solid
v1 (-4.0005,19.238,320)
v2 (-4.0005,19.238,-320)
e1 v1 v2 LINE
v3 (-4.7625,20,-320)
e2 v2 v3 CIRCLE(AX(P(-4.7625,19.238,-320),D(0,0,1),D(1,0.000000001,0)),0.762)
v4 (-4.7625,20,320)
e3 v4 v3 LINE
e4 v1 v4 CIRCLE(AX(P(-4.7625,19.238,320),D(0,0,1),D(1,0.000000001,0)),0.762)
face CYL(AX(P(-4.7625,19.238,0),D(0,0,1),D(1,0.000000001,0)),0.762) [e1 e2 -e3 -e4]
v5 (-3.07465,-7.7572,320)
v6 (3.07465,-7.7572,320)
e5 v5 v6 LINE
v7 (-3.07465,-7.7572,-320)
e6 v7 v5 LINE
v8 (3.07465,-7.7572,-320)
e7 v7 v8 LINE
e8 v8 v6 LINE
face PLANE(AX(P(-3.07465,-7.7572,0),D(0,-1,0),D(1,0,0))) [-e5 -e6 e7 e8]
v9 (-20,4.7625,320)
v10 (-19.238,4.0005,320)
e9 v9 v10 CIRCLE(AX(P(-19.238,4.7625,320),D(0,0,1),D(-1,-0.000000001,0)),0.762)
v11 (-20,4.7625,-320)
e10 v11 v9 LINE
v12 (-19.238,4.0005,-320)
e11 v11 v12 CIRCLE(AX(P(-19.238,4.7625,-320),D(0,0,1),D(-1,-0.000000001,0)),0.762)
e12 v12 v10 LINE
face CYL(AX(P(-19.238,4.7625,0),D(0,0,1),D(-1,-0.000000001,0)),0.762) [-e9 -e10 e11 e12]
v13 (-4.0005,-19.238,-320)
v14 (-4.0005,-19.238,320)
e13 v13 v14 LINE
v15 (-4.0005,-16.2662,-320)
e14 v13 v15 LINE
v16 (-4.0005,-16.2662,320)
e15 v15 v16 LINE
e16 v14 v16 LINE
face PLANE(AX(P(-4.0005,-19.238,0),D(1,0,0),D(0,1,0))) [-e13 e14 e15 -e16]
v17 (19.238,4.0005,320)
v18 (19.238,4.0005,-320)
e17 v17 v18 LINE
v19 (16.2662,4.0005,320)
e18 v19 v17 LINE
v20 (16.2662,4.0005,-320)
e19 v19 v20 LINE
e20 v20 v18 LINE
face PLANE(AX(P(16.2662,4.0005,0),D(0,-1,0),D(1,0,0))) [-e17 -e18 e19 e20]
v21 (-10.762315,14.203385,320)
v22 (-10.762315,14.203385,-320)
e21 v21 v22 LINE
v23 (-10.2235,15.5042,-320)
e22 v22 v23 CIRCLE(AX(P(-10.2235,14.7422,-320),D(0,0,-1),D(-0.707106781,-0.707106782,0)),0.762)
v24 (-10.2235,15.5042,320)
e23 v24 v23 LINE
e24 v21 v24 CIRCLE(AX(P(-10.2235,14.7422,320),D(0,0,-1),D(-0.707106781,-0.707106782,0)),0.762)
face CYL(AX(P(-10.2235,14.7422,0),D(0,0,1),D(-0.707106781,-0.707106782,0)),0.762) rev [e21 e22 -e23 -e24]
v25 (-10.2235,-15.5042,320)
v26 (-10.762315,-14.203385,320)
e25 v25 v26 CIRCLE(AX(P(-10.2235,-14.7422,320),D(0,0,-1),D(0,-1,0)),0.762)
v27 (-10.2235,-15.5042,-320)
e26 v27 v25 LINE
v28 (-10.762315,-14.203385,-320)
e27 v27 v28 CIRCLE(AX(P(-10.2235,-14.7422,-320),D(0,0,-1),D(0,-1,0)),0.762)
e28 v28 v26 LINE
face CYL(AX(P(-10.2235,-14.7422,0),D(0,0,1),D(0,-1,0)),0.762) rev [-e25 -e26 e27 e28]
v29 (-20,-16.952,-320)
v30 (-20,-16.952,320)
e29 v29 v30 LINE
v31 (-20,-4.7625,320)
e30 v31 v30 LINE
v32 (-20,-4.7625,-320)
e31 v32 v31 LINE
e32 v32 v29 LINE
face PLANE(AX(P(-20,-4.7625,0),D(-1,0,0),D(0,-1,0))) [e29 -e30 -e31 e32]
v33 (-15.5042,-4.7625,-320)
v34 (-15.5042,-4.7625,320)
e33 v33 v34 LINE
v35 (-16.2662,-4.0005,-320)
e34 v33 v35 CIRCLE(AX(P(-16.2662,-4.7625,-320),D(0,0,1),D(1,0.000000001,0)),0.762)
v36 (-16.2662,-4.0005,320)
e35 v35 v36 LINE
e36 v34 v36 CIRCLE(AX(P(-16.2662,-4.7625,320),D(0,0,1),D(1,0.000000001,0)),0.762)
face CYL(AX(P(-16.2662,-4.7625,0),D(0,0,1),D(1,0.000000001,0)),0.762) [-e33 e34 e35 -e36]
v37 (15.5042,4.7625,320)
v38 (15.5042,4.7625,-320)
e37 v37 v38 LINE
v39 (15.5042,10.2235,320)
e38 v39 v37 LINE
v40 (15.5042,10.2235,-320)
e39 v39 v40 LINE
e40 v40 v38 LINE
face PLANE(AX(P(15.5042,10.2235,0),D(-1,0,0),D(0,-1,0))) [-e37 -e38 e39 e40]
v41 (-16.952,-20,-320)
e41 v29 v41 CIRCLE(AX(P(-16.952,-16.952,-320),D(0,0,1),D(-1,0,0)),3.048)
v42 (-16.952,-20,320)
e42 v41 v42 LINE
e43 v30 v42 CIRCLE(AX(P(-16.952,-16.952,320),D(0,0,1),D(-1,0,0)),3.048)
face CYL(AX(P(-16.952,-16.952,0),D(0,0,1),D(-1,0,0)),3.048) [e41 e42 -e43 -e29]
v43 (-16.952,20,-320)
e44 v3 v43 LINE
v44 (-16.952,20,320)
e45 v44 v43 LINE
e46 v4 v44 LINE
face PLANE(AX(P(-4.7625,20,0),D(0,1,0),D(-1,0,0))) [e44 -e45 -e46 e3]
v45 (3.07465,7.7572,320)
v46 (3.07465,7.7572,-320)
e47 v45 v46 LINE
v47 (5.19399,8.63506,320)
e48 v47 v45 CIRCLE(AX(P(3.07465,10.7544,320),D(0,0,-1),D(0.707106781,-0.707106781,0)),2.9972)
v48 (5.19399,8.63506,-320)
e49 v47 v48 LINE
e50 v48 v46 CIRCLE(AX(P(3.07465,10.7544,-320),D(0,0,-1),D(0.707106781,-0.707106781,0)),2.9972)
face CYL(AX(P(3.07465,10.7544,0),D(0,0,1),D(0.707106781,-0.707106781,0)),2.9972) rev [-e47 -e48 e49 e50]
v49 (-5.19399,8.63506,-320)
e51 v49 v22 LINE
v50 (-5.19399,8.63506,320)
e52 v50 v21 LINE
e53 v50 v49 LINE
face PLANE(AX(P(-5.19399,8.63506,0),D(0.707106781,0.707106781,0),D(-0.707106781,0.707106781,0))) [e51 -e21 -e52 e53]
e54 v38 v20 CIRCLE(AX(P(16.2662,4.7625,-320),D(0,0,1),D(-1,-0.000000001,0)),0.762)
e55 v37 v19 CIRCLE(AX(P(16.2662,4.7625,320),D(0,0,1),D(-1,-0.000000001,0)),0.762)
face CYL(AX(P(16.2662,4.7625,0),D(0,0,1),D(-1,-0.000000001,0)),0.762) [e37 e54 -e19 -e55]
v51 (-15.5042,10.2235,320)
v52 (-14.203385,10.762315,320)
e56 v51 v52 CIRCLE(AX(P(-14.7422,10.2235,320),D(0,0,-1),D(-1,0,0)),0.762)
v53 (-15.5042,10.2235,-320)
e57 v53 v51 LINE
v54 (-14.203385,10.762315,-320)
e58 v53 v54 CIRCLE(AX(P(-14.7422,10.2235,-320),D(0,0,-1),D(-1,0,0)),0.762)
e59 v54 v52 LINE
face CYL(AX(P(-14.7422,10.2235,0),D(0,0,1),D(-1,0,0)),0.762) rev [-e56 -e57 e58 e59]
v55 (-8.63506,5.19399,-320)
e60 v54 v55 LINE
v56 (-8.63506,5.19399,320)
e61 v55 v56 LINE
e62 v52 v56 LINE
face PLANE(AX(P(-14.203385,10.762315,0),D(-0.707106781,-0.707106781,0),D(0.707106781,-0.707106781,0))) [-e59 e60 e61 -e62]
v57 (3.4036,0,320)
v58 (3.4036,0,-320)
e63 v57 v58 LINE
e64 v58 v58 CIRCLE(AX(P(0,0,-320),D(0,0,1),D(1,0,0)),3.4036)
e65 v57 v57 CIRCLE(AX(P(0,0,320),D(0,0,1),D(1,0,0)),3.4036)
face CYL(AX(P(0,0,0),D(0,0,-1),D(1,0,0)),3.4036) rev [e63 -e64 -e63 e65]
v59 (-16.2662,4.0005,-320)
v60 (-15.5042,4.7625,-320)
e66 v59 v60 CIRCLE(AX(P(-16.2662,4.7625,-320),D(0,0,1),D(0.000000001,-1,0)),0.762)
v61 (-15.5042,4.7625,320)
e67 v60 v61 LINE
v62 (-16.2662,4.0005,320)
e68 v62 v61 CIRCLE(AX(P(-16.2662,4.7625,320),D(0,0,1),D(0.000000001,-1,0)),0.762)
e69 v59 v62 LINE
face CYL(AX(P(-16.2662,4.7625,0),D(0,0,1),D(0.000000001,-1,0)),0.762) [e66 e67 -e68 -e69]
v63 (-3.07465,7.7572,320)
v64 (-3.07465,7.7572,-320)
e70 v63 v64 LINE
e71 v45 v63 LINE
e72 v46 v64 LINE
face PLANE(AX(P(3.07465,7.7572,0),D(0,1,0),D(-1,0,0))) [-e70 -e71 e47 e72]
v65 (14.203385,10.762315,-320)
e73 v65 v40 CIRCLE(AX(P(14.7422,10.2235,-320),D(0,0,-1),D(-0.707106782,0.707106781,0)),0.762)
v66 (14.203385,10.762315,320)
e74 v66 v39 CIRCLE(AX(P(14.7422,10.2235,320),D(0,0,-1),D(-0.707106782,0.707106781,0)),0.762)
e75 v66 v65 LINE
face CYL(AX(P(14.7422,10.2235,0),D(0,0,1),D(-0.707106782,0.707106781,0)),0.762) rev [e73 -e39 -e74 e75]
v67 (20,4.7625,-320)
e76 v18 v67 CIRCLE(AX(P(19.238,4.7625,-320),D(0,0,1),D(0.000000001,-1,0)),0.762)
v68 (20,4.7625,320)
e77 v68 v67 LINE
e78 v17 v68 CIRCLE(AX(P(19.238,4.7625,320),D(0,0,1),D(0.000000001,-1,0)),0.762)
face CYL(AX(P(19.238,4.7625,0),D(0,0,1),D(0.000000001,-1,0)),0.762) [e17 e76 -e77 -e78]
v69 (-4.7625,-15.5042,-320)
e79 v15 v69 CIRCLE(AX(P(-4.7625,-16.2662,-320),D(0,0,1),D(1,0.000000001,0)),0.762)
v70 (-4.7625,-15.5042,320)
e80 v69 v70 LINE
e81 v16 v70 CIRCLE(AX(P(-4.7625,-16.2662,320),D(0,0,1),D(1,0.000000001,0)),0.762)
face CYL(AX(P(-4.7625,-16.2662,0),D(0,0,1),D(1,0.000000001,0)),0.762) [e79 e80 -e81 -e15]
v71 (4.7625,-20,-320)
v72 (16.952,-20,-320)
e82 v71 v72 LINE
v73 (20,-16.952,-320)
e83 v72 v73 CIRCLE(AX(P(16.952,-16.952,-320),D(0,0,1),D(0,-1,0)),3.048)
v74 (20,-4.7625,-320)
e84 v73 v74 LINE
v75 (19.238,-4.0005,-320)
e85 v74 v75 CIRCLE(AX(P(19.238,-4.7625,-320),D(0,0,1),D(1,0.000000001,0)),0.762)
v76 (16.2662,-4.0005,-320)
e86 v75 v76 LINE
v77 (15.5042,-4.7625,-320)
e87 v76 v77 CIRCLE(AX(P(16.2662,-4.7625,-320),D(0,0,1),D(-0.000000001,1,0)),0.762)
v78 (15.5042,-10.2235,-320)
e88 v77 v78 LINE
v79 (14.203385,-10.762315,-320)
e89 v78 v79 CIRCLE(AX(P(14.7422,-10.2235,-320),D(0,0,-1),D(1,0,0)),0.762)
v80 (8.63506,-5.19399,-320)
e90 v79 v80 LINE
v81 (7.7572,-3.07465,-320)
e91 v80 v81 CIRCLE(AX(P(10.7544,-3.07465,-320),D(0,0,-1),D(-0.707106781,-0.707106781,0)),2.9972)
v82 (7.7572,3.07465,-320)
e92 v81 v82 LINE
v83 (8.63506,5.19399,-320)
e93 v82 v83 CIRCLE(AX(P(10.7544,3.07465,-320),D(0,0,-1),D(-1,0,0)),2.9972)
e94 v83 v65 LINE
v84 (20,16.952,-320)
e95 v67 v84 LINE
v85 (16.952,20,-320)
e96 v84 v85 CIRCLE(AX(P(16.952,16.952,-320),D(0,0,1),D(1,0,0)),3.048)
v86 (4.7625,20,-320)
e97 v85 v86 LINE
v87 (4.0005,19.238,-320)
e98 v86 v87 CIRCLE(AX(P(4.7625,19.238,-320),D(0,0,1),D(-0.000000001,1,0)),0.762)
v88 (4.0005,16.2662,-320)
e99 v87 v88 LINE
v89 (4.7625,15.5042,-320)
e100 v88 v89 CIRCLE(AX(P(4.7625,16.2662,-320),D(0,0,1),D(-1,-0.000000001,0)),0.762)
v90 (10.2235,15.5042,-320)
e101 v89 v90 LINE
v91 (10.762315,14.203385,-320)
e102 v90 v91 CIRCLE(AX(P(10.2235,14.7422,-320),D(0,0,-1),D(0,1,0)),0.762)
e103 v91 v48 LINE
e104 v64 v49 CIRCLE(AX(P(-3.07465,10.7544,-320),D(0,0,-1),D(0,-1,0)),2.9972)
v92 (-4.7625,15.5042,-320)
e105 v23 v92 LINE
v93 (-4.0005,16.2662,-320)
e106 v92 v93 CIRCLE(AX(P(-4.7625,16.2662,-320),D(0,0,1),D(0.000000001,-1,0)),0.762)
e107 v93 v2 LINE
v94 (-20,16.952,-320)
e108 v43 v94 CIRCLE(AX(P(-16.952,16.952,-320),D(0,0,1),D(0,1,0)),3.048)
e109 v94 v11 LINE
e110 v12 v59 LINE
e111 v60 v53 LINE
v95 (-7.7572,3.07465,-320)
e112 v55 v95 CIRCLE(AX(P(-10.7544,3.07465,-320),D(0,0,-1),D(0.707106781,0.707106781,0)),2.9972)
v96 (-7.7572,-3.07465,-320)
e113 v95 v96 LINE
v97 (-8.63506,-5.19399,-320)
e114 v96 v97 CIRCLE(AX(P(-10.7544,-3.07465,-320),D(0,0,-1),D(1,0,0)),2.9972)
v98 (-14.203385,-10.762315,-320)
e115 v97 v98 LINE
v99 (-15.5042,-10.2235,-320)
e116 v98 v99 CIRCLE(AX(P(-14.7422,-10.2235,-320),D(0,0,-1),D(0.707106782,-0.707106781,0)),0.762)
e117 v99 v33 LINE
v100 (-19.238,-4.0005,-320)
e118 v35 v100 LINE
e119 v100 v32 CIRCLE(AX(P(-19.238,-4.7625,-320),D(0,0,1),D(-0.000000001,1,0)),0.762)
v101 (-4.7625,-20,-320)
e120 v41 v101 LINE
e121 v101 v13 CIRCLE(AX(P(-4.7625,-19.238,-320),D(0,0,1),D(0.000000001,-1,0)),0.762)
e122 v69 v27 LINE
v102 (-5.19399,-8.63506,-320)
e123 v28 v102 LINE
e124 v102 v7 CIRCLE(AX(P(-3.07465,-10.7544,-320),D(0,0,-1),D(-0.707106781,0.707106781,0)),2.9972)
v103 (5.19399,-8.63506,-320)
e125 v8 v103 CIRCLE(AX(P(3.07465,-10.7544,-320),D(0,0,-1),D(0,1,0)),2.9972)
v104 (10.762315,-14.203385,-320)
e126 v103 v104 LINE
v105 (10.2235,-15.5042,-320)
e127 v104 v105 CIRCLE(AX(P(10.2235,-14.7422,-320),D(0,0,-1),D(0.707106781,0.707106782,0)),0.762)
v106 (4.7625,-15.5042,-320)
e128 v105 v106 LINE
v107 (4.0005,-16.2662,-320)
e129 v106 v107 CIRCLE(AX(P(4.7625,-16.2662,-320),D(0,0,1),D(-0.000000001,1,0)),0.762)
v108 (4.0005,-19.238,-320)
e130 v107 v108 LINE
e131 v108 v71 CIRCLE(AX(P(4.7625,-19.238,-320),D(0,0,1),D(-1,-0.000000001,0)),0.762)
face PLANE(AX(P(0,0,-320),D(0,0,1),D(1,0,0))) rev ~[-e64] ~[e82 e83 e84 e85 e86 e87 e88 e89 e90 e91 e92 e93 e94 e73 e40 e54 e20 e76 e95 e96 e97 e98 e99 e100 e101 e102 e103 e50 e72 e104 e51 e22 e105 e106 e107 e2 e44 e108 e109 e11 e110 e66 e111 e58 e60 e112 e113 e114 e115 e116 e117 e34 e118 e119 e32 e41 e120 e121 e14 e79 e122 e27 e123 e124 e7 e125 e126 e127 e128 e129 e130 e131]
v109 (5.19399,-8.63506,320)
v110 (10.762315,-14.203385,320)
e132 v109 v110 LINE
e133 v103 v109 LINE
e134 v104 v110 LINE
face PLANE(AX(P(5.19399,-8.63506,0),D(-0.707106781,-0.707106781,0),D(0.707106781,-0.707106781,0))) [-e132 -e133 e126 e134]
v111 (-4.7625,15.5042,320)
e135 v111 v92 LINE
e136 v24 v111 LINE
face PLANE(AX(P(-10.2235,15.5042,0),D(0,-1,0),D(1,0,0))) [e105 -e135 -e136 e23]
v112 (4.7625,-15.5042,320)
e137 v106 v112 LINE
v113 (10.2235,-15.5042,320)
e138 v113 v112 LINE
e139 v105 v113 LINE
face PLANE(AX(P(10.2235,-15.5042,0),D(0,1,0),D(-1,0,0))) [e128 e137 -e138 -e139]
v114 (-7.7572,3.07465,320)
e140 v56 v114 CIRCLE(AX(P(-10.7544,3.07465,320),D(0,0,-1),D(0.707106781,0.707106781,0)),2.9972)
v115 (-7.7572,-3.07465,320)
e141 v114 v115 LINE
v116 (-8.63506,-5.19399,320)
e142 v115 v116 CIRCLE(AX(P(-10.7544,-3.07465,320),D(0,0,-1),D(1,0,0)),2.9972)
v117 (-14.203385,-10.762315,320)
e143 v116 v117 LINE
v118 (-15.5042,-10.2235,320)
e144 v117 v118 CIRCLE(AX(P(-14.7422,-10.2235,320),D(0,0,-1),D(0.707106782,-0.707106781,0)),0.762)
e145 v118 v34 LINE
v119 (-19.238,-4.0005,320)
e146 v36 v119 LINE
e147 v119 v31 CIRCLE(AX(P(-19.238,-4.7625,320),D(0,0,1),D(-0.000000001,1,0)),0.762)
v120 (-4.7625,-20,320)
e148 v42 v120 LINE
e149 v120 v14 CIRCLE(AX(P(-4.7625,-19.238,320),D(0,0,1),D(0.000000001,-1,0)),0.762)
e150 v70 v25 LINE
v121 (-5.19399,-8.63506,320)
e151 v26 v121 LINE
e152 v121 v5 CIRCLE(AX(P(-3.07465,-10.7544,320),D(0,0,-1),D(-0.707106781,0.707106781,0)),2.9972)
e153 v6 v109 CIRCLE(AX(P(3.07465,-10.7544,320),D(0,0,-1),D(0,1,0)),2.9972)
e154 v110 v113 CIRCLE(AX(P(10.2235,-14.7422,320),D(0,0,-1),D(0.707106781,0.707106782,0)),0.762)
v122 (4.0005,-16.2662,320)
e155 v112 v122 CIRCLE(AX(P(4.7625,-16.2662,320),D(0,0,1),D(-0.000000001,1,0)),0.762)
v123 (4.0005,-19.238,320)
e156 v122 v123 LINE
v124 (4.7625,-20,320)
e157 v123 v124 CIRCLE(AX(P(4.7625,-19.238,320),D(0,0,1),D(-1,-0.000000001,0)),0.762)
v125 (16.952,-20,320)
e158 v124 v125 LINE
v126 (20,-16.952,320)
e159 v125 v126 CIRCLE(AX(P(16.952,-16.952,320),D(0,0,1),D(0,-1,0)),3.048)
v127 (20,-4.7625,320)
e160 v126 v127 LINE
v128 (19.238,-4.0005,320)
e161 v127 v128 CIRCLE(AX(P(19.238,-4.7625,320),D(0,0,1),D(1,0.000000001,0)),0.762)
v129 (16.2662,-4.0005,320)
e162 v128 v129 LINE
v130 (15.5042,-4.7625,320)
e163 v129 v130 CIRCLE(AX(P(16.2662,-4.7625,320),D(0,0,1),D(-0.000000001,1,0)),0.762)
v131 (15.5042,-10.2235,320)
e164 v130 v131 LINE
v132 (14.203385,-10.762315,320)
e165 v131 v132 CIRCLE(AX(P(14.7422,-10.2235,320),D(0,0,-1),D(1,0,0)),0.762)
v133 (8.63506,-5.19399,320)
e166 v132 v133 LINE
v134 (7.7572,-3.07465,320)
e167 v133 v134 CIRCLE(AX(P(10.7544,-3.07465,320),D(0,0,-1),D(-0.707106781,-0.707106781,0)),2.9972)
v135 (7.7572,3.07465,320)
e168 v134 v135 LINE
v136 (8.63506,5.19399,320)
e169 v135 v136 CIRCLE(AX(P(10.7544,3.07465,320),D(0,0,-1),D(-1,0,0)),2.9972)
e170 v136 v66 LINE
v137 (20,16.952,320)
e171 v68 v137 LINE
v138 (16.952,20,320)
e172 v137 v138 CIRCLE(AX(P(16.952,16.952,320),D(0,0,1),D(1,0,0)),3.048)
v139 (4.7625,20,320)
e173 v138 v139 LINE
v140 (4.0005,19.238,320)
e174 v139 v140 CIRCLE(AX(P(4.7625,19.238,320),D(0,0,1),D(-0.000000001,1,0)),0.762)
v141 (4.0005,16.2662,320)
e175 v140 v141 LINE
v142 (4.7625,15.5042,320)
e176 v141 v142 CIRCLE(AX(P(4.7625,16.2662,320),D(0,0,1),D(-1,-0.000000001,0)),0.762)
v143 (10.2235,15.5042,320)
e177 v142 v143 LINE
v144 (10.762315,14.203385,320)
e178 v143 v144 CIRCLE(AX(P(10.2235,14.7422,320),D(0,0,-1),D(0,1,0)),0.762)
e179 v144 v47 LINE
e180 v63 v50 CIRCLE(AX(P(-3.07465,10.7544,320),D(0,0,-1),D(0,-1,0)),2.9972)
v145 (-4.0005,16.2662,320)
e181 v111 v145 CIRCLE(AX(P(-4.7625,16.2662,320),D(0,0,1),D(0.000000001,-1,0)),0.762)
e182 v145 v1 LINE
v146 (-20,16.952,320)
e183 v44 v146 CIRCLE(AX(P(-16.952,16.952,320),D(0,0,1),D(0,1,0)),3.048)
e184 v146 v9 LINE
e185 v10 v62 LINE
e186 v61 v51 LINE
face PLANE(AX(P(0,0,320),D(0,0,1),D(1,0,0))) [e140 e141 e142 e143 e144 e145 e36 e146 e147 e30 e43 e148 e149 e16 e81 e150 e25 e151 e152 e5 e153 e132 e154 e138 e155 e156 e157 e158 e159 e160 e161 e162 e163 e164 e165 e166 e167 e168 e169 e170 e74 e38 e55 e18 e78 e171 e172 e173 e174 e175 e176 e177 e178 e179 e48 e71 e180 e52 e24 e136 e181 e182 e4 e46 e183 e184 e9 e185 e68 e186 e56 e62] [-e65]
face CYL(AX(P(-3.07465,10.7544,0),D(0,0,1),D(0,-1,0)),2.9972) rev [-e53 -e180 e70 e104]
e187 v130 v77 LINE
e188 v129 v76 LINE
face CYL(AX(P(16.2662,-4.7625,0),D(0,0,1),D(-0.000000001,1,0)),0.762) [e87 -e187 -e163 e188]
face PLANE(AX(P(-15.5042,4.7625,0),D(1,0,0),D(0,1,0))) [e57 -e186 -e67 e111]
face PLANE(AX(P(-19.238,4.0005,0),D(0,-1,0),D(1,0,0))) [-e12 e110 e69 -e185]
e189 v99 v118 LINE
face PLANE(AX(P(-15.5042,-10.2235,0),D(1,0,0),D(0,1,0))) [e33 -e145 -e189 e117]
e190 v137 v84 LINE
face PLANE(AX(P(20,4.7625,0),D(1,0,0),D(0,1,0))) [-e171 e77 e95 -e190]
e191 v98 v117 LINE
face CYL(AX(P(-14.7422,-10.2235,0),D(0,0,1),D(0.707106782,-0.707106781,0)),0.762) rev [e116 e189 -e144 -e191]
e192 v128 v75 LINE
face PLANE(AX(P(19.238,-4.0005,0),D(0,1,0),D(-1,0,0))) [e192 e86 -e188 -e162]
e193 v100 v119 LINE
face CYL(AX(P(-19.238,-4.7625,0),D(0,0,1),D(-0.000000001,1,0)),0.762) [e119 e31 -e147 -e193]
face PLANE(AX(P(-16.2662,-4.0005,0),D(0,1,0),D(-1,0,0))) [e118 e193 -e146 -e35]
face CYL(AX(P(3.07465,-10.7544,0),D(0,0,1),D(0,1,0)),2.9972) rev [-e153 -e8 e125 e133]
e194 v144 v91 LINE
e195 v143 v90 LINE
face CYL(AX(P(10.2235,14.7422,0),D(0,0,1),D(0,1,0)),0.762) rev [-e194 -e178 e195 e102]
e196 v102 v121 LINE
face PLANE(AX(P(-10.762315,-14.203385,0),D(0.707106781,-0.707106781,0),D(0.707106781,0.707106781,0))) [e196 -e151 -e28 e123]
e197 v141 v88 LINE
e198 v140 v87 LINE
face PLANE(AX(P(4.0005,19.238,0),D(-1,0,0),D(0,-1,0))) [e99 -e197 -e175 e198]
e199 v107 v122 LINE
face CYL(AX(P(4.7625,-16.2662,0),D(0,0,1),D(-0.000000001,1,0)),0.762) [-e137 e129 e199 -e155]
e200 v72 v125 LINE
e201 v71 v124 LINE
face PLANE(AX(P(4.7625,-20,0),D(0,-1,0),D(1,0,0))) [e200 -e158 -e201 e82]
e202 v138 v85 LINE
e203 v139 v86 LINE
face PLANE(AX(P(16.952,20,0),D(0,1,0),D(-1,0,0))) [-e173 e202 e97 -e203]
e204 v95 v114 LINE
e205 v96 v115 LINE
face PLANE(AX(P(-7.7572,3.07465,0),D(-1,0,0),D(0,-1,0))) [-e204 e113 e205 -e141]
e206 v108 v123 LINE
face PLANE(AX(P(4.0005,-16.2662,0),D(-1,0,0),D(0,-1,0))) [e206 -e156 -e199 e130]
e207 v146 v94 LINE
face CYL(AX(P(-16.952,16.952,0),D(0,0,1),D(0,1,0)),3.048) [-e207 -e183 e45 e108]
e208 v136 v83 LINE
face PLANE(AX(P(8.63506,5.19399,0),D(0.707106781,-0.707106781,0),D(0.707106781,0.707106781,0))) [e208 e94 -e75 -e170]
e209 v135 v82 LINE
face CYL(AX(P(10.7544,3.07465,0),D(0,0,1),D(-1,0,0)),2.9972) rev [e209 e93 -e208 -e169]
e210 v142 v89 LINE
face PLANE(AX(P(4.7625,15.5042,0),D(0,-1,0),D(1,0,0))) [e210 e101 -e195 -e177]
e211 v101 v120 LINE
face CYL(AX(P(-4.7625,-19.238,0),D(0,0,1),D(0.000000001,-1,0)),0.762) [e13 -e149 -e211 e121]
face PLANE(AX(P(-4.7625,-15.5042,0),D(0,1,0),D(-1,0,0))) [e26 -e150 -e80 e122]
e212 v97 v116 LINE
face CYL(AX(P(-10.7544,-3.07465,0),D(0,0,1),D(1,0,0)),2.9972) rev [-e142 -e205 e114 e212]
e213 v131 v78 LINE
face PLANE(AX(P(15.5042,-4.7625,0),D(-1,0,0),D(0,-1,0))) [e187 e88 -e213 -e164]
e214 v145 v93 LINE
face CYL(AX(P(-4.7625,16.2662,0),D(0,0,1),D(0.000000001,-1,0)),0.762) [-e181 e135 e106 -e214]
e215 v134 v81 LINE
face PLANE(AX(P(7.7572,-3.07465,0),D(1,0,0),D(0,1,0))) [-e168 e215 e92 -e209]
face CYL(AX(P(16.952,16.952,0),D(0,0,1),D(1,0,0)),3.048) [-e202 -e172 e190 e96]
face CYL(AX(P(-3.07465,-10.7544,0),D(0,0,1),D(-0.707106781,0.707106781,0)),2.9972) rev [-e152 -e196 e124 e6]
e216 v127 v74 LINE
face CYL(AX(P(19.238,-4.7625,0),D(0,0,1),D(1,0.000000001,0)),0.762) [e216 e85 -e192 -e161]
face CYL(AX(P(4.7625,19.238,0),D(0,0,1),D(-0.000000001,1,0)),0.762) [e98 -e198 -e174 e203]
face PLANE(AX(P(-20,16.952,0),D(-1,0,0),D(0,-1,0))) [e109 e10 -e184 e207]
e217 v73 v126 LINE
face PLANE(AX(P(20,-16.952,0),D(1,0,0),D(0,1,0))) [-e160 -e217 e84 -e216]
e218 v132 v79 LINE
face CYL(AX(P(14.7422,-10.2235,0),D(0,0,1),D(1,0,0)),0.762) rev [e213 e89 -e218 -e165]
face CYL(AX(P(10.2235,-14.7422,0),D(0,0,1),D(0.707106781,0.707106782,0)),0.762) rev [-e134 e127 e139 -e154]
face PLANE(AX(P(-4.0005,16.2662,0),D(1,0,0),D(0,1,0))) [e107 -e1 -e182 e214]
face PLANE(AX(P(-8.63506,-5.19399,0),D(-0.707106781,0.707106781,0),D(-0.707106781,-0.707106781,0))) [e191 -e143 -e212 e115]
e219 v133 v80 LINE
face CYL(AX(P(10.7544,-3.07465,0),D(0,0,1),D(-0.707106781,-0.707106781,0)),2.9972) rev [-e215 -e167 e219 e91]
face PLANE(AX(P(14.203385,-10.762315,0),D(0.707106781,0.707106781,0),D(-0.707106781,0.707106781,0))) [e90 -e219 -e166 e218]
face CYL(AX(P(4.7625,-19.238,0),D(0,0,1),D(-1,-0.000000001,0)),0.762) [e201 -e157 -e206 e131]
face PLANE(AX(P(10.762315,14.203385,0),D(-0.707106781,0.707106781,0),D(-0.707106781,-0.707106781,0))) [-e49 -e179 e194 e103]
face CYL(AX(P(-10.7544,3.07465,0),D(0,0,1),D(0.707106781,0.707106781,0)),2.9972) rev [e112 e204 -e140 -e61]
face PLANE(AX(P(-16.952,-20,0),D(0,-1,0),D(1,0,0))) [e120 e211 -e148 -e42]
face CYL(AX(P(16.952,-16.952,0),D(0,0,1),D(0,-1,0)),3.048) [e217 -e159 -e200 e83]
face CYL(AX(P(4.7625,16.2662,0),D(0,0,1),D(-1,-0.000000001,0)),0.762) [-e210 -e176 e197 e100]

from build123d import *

# Parameters (mm, degrees)
SKETCH1_R           = 3.4036
BOSS_EXTRUDE1_DEPTH = 320


with BuildPart() as part:
    # Sketch1 → Boss-Extrude1 (new, symmetric)
    with BuildSketch(Plane.XY):
        with BuildLine():
            Line((-20, 16.952), (-20, 4.7625))
            ThreePointArc((-20, 4.7625), (-19.776815367, 4.223684633), (-19.238, 4.0005))
            Line((-19.238, 4.0005), (-16.2662, 4.0005))
            ThreePointArc((-16.2662, 4.0005), (-15.727384633, 4.223684633), (-15.5042, 4.7625))
            Line((-15.5042, 4.7625), (-15.5042, 10.2235))
            ThreePointArc((-15.5042, 10.2235), (-15.033804775, 10.927496204), (-14.203384633, 10.762315367))
            Line((-14.203384633, 10.762315367), (-8.635059555, 5.19399029))
            ThreePointArc((-8.635059555, 5.19399029), (-7.985348265, 4.221628629), (-7.7572, 3.074649845))
            Line((-7.7572, 3.074649845), (-7.7572, -3.074649845))
            ThreePointArc((-7.7572, -3.074649845), (-7.985348265, -4.221628629), (-8.635059555, -5.19399029))
            Line((-8.635059555, -5.19399029), (-14.203384633, -10.762315367))
            ThreePointArc((-14.203384633, -10.762315367), (-15.033804775, -10.927496204), (-15.5042, -10.2235))
            Line((-15.5042, -10.2235), (-15.5042, -4.7625))
            ThreePointArc((-15.5042, -4.7625), (-15.727384633, -4.223684633), (-16.2662, -4.0005))
            Line((-16.2662, -4.0005), (-19.238, -4.0005))
            ThreePointArc((-19.238, -4.0005), (-19.776815367, -4.223684633), (-20, -4.7625))
            Line((-20, -4.7625), (-20, -16.952))
            ThreePointArc((-20, -16.952), (-19.107261469, -19.107261469), (-16.952, -20))
            Line((-16.952, -20), (-4.7625, -20))
            ThreePointArc((-4.7625, -20), (-4.223684633, -19.776815367), (-4.0005, -19.238))
            Line((-4.0005, -19.238), (-4.0005, -16.2662))
            ThreePointArc((-4.0005, -16.2662), (-4.223684633, -15.727384633), (-4.7625, -15.5042))
            Line((-4.7625, -15.5042), (-10.2235, -15.5042))
            ThreePointArc((-10.2235, -15.5042), (-10.927496204, -15.033804775), (-10.762315367, -14.203384633))
            Line((-10.762315367, -14.203384633), (-5.19399029, -8.635059555))
            ThreePointArc((-5.19399029, -8.635059555), (-4.221628629, -7.985348265), (-3.074649845, -7.7572))
            Line((-3.074649845, -7.7572), (3.074649845, -7.7572))
            ThreePointArc((3.074649845, -7.7572), (4.221628629, -7.985348265), (5.19399029, -8.635059555))
            Line((5.19399029, -8.635059555), (10.762315367, -14.203384633))
            ThreePointArc((10.762315367, -14.203384633), (10.927496204, -15.033804775), (10.2235, -15.5042))
            Line((10.2235, -15.5042), (4.7625, -15.5042))
            ThreePointArc((4.7625, -15.5042), (4.223684633, -15.727384633), (4.0005, -16.2662))
            Line((4.0005, -16.2662), (4.0005, -19.238))
            ThreePointArc((4.0005, -19.238), (4.223684633, -19.776815367), (4.7625, -20))
            Line((4.7625, -20), (16.952, -20))
            ThreePointArc((16.952, -20), (19.107261469, -19.107261469), (20, -16.952))
            Line((20, -16.952), (20, -4.7625))
            ThreePointArc((20, -4.7625), (19.776815367, -4.223684633), (19.238, -4.0005))
            Line((19.238, -4.0005), (16.2662, -4.0005))
            ThreePointArc((16.2662, -4.0005), (15.727384633, -4.223684633), (15.5042, -4.7625))
            Line((15.5042, -4.7625), (15.5042, -10.2235))
            ThreePointArc((15.5042, -10.2235), (15.033804775, -10.927496204), (14.203384633, -10.762315367))
            Line((14.203384633, -10.762315367), (8.635059555, -5.19399029))
            ThreePointArc((8.635059555, -5.19399029), (7.985348265, -4.221628629), (7.7572, -3.074649845))
            Line((7.7572, -3.074649845), (7.7572, 3.074649845))
            ThreePointArc((7.7572, 3.074649845), (7.985348265, 4.221628629), (8.635059555, 5.19399029))
            Line((8.635059555, 5.19399029), (14.203384633, 10.762315367))
            ThreePointArc((14.203384633, 10.762315367), (15.033804775, 10.927496204), (15.5042, 10.2235))
            Line((15.5042, 10.2235), (15.5042, 4.7625))
            ThreePointArc((15.5042, 4.7625), (15.727384633, 4.223684633), (16.2662, 4.0005))
            Line((16.2662, 4.0005), (19.238, 4.0005))
            ThreePointArc((19.238, 4.0005), (19.776815367, 4.223684633), (20, 4.7625))
            Line((20, 4.7625), (20, 16.952))
            ThreePointArc((20, 16.952), (19.107261469, 19.107261469), (16.952, 20))
            Line((16.952, 20), (4.7625, 20))
            ThreePointArc((4.7625, 20), (4.223684633, 19.776815367), (4.0005, 19.238))
            Line((4.0005, 19.238), (4.0005, 16.2662))
            ThreePointArc((4.0005, 16.2662), (4.223684633, 15.727384633), (4.7625, 15.5042))
            Line((4.7625, 15.5042), (10.2235, 15.5042))
            ThreePointArc((10.2235, 15.5042), (10.927496204, 15.033804775), (10.762315367, 14.203384633))
            Line((10.762315367, 14.203384633), (5.19399029, 8.635059555))
            ThreePointArc((5.19399029, 8.635059555), (4.221628629, 7.985348265), (3.074649845, 7.7572))
            Line((3.074649845, 7.7572), (-3.074649845, 7.7572))
            ThreePointArc((-3.074649845, 7.7572), (-4.221628629, 7.985348265), (-5.19399029, 8.635059555))
            Line((-5.19399029, 8.635059555), (-10.762315367, 14.203384633))
            ThreePointArc((-10.762315367, 14.203384633), (-10.927496204, 15.033804775), (-10.2235, 15.5042))
            Line((-10.2235, 15.5042), (-4.7625, 15.5042))
            ThreePointArc((-4.7625, 15.5042), (-4.223684633, 15.727384633), (-4.0005, 16.2662))
            Line((-4.0005, 16.2662), (-4.0005, 19.238))
            ThreePointArc((-4.0005, 19.238), (-4.223684633, 19.776815367), (-4.7625, 20))
            Line((-4.7625, 20), (-16.952, 20))
            ThreePointArc((-16.952, 20), (-19.107261469, 19.107261469), (-20, 16.952))
        make_face()
        Circle(SKETCH1_R, mode=Mode.SUBTRACT)
    extrude(amount=BOSS_EXTRUDE1_DEPTH, both=True)


solid = part.part
